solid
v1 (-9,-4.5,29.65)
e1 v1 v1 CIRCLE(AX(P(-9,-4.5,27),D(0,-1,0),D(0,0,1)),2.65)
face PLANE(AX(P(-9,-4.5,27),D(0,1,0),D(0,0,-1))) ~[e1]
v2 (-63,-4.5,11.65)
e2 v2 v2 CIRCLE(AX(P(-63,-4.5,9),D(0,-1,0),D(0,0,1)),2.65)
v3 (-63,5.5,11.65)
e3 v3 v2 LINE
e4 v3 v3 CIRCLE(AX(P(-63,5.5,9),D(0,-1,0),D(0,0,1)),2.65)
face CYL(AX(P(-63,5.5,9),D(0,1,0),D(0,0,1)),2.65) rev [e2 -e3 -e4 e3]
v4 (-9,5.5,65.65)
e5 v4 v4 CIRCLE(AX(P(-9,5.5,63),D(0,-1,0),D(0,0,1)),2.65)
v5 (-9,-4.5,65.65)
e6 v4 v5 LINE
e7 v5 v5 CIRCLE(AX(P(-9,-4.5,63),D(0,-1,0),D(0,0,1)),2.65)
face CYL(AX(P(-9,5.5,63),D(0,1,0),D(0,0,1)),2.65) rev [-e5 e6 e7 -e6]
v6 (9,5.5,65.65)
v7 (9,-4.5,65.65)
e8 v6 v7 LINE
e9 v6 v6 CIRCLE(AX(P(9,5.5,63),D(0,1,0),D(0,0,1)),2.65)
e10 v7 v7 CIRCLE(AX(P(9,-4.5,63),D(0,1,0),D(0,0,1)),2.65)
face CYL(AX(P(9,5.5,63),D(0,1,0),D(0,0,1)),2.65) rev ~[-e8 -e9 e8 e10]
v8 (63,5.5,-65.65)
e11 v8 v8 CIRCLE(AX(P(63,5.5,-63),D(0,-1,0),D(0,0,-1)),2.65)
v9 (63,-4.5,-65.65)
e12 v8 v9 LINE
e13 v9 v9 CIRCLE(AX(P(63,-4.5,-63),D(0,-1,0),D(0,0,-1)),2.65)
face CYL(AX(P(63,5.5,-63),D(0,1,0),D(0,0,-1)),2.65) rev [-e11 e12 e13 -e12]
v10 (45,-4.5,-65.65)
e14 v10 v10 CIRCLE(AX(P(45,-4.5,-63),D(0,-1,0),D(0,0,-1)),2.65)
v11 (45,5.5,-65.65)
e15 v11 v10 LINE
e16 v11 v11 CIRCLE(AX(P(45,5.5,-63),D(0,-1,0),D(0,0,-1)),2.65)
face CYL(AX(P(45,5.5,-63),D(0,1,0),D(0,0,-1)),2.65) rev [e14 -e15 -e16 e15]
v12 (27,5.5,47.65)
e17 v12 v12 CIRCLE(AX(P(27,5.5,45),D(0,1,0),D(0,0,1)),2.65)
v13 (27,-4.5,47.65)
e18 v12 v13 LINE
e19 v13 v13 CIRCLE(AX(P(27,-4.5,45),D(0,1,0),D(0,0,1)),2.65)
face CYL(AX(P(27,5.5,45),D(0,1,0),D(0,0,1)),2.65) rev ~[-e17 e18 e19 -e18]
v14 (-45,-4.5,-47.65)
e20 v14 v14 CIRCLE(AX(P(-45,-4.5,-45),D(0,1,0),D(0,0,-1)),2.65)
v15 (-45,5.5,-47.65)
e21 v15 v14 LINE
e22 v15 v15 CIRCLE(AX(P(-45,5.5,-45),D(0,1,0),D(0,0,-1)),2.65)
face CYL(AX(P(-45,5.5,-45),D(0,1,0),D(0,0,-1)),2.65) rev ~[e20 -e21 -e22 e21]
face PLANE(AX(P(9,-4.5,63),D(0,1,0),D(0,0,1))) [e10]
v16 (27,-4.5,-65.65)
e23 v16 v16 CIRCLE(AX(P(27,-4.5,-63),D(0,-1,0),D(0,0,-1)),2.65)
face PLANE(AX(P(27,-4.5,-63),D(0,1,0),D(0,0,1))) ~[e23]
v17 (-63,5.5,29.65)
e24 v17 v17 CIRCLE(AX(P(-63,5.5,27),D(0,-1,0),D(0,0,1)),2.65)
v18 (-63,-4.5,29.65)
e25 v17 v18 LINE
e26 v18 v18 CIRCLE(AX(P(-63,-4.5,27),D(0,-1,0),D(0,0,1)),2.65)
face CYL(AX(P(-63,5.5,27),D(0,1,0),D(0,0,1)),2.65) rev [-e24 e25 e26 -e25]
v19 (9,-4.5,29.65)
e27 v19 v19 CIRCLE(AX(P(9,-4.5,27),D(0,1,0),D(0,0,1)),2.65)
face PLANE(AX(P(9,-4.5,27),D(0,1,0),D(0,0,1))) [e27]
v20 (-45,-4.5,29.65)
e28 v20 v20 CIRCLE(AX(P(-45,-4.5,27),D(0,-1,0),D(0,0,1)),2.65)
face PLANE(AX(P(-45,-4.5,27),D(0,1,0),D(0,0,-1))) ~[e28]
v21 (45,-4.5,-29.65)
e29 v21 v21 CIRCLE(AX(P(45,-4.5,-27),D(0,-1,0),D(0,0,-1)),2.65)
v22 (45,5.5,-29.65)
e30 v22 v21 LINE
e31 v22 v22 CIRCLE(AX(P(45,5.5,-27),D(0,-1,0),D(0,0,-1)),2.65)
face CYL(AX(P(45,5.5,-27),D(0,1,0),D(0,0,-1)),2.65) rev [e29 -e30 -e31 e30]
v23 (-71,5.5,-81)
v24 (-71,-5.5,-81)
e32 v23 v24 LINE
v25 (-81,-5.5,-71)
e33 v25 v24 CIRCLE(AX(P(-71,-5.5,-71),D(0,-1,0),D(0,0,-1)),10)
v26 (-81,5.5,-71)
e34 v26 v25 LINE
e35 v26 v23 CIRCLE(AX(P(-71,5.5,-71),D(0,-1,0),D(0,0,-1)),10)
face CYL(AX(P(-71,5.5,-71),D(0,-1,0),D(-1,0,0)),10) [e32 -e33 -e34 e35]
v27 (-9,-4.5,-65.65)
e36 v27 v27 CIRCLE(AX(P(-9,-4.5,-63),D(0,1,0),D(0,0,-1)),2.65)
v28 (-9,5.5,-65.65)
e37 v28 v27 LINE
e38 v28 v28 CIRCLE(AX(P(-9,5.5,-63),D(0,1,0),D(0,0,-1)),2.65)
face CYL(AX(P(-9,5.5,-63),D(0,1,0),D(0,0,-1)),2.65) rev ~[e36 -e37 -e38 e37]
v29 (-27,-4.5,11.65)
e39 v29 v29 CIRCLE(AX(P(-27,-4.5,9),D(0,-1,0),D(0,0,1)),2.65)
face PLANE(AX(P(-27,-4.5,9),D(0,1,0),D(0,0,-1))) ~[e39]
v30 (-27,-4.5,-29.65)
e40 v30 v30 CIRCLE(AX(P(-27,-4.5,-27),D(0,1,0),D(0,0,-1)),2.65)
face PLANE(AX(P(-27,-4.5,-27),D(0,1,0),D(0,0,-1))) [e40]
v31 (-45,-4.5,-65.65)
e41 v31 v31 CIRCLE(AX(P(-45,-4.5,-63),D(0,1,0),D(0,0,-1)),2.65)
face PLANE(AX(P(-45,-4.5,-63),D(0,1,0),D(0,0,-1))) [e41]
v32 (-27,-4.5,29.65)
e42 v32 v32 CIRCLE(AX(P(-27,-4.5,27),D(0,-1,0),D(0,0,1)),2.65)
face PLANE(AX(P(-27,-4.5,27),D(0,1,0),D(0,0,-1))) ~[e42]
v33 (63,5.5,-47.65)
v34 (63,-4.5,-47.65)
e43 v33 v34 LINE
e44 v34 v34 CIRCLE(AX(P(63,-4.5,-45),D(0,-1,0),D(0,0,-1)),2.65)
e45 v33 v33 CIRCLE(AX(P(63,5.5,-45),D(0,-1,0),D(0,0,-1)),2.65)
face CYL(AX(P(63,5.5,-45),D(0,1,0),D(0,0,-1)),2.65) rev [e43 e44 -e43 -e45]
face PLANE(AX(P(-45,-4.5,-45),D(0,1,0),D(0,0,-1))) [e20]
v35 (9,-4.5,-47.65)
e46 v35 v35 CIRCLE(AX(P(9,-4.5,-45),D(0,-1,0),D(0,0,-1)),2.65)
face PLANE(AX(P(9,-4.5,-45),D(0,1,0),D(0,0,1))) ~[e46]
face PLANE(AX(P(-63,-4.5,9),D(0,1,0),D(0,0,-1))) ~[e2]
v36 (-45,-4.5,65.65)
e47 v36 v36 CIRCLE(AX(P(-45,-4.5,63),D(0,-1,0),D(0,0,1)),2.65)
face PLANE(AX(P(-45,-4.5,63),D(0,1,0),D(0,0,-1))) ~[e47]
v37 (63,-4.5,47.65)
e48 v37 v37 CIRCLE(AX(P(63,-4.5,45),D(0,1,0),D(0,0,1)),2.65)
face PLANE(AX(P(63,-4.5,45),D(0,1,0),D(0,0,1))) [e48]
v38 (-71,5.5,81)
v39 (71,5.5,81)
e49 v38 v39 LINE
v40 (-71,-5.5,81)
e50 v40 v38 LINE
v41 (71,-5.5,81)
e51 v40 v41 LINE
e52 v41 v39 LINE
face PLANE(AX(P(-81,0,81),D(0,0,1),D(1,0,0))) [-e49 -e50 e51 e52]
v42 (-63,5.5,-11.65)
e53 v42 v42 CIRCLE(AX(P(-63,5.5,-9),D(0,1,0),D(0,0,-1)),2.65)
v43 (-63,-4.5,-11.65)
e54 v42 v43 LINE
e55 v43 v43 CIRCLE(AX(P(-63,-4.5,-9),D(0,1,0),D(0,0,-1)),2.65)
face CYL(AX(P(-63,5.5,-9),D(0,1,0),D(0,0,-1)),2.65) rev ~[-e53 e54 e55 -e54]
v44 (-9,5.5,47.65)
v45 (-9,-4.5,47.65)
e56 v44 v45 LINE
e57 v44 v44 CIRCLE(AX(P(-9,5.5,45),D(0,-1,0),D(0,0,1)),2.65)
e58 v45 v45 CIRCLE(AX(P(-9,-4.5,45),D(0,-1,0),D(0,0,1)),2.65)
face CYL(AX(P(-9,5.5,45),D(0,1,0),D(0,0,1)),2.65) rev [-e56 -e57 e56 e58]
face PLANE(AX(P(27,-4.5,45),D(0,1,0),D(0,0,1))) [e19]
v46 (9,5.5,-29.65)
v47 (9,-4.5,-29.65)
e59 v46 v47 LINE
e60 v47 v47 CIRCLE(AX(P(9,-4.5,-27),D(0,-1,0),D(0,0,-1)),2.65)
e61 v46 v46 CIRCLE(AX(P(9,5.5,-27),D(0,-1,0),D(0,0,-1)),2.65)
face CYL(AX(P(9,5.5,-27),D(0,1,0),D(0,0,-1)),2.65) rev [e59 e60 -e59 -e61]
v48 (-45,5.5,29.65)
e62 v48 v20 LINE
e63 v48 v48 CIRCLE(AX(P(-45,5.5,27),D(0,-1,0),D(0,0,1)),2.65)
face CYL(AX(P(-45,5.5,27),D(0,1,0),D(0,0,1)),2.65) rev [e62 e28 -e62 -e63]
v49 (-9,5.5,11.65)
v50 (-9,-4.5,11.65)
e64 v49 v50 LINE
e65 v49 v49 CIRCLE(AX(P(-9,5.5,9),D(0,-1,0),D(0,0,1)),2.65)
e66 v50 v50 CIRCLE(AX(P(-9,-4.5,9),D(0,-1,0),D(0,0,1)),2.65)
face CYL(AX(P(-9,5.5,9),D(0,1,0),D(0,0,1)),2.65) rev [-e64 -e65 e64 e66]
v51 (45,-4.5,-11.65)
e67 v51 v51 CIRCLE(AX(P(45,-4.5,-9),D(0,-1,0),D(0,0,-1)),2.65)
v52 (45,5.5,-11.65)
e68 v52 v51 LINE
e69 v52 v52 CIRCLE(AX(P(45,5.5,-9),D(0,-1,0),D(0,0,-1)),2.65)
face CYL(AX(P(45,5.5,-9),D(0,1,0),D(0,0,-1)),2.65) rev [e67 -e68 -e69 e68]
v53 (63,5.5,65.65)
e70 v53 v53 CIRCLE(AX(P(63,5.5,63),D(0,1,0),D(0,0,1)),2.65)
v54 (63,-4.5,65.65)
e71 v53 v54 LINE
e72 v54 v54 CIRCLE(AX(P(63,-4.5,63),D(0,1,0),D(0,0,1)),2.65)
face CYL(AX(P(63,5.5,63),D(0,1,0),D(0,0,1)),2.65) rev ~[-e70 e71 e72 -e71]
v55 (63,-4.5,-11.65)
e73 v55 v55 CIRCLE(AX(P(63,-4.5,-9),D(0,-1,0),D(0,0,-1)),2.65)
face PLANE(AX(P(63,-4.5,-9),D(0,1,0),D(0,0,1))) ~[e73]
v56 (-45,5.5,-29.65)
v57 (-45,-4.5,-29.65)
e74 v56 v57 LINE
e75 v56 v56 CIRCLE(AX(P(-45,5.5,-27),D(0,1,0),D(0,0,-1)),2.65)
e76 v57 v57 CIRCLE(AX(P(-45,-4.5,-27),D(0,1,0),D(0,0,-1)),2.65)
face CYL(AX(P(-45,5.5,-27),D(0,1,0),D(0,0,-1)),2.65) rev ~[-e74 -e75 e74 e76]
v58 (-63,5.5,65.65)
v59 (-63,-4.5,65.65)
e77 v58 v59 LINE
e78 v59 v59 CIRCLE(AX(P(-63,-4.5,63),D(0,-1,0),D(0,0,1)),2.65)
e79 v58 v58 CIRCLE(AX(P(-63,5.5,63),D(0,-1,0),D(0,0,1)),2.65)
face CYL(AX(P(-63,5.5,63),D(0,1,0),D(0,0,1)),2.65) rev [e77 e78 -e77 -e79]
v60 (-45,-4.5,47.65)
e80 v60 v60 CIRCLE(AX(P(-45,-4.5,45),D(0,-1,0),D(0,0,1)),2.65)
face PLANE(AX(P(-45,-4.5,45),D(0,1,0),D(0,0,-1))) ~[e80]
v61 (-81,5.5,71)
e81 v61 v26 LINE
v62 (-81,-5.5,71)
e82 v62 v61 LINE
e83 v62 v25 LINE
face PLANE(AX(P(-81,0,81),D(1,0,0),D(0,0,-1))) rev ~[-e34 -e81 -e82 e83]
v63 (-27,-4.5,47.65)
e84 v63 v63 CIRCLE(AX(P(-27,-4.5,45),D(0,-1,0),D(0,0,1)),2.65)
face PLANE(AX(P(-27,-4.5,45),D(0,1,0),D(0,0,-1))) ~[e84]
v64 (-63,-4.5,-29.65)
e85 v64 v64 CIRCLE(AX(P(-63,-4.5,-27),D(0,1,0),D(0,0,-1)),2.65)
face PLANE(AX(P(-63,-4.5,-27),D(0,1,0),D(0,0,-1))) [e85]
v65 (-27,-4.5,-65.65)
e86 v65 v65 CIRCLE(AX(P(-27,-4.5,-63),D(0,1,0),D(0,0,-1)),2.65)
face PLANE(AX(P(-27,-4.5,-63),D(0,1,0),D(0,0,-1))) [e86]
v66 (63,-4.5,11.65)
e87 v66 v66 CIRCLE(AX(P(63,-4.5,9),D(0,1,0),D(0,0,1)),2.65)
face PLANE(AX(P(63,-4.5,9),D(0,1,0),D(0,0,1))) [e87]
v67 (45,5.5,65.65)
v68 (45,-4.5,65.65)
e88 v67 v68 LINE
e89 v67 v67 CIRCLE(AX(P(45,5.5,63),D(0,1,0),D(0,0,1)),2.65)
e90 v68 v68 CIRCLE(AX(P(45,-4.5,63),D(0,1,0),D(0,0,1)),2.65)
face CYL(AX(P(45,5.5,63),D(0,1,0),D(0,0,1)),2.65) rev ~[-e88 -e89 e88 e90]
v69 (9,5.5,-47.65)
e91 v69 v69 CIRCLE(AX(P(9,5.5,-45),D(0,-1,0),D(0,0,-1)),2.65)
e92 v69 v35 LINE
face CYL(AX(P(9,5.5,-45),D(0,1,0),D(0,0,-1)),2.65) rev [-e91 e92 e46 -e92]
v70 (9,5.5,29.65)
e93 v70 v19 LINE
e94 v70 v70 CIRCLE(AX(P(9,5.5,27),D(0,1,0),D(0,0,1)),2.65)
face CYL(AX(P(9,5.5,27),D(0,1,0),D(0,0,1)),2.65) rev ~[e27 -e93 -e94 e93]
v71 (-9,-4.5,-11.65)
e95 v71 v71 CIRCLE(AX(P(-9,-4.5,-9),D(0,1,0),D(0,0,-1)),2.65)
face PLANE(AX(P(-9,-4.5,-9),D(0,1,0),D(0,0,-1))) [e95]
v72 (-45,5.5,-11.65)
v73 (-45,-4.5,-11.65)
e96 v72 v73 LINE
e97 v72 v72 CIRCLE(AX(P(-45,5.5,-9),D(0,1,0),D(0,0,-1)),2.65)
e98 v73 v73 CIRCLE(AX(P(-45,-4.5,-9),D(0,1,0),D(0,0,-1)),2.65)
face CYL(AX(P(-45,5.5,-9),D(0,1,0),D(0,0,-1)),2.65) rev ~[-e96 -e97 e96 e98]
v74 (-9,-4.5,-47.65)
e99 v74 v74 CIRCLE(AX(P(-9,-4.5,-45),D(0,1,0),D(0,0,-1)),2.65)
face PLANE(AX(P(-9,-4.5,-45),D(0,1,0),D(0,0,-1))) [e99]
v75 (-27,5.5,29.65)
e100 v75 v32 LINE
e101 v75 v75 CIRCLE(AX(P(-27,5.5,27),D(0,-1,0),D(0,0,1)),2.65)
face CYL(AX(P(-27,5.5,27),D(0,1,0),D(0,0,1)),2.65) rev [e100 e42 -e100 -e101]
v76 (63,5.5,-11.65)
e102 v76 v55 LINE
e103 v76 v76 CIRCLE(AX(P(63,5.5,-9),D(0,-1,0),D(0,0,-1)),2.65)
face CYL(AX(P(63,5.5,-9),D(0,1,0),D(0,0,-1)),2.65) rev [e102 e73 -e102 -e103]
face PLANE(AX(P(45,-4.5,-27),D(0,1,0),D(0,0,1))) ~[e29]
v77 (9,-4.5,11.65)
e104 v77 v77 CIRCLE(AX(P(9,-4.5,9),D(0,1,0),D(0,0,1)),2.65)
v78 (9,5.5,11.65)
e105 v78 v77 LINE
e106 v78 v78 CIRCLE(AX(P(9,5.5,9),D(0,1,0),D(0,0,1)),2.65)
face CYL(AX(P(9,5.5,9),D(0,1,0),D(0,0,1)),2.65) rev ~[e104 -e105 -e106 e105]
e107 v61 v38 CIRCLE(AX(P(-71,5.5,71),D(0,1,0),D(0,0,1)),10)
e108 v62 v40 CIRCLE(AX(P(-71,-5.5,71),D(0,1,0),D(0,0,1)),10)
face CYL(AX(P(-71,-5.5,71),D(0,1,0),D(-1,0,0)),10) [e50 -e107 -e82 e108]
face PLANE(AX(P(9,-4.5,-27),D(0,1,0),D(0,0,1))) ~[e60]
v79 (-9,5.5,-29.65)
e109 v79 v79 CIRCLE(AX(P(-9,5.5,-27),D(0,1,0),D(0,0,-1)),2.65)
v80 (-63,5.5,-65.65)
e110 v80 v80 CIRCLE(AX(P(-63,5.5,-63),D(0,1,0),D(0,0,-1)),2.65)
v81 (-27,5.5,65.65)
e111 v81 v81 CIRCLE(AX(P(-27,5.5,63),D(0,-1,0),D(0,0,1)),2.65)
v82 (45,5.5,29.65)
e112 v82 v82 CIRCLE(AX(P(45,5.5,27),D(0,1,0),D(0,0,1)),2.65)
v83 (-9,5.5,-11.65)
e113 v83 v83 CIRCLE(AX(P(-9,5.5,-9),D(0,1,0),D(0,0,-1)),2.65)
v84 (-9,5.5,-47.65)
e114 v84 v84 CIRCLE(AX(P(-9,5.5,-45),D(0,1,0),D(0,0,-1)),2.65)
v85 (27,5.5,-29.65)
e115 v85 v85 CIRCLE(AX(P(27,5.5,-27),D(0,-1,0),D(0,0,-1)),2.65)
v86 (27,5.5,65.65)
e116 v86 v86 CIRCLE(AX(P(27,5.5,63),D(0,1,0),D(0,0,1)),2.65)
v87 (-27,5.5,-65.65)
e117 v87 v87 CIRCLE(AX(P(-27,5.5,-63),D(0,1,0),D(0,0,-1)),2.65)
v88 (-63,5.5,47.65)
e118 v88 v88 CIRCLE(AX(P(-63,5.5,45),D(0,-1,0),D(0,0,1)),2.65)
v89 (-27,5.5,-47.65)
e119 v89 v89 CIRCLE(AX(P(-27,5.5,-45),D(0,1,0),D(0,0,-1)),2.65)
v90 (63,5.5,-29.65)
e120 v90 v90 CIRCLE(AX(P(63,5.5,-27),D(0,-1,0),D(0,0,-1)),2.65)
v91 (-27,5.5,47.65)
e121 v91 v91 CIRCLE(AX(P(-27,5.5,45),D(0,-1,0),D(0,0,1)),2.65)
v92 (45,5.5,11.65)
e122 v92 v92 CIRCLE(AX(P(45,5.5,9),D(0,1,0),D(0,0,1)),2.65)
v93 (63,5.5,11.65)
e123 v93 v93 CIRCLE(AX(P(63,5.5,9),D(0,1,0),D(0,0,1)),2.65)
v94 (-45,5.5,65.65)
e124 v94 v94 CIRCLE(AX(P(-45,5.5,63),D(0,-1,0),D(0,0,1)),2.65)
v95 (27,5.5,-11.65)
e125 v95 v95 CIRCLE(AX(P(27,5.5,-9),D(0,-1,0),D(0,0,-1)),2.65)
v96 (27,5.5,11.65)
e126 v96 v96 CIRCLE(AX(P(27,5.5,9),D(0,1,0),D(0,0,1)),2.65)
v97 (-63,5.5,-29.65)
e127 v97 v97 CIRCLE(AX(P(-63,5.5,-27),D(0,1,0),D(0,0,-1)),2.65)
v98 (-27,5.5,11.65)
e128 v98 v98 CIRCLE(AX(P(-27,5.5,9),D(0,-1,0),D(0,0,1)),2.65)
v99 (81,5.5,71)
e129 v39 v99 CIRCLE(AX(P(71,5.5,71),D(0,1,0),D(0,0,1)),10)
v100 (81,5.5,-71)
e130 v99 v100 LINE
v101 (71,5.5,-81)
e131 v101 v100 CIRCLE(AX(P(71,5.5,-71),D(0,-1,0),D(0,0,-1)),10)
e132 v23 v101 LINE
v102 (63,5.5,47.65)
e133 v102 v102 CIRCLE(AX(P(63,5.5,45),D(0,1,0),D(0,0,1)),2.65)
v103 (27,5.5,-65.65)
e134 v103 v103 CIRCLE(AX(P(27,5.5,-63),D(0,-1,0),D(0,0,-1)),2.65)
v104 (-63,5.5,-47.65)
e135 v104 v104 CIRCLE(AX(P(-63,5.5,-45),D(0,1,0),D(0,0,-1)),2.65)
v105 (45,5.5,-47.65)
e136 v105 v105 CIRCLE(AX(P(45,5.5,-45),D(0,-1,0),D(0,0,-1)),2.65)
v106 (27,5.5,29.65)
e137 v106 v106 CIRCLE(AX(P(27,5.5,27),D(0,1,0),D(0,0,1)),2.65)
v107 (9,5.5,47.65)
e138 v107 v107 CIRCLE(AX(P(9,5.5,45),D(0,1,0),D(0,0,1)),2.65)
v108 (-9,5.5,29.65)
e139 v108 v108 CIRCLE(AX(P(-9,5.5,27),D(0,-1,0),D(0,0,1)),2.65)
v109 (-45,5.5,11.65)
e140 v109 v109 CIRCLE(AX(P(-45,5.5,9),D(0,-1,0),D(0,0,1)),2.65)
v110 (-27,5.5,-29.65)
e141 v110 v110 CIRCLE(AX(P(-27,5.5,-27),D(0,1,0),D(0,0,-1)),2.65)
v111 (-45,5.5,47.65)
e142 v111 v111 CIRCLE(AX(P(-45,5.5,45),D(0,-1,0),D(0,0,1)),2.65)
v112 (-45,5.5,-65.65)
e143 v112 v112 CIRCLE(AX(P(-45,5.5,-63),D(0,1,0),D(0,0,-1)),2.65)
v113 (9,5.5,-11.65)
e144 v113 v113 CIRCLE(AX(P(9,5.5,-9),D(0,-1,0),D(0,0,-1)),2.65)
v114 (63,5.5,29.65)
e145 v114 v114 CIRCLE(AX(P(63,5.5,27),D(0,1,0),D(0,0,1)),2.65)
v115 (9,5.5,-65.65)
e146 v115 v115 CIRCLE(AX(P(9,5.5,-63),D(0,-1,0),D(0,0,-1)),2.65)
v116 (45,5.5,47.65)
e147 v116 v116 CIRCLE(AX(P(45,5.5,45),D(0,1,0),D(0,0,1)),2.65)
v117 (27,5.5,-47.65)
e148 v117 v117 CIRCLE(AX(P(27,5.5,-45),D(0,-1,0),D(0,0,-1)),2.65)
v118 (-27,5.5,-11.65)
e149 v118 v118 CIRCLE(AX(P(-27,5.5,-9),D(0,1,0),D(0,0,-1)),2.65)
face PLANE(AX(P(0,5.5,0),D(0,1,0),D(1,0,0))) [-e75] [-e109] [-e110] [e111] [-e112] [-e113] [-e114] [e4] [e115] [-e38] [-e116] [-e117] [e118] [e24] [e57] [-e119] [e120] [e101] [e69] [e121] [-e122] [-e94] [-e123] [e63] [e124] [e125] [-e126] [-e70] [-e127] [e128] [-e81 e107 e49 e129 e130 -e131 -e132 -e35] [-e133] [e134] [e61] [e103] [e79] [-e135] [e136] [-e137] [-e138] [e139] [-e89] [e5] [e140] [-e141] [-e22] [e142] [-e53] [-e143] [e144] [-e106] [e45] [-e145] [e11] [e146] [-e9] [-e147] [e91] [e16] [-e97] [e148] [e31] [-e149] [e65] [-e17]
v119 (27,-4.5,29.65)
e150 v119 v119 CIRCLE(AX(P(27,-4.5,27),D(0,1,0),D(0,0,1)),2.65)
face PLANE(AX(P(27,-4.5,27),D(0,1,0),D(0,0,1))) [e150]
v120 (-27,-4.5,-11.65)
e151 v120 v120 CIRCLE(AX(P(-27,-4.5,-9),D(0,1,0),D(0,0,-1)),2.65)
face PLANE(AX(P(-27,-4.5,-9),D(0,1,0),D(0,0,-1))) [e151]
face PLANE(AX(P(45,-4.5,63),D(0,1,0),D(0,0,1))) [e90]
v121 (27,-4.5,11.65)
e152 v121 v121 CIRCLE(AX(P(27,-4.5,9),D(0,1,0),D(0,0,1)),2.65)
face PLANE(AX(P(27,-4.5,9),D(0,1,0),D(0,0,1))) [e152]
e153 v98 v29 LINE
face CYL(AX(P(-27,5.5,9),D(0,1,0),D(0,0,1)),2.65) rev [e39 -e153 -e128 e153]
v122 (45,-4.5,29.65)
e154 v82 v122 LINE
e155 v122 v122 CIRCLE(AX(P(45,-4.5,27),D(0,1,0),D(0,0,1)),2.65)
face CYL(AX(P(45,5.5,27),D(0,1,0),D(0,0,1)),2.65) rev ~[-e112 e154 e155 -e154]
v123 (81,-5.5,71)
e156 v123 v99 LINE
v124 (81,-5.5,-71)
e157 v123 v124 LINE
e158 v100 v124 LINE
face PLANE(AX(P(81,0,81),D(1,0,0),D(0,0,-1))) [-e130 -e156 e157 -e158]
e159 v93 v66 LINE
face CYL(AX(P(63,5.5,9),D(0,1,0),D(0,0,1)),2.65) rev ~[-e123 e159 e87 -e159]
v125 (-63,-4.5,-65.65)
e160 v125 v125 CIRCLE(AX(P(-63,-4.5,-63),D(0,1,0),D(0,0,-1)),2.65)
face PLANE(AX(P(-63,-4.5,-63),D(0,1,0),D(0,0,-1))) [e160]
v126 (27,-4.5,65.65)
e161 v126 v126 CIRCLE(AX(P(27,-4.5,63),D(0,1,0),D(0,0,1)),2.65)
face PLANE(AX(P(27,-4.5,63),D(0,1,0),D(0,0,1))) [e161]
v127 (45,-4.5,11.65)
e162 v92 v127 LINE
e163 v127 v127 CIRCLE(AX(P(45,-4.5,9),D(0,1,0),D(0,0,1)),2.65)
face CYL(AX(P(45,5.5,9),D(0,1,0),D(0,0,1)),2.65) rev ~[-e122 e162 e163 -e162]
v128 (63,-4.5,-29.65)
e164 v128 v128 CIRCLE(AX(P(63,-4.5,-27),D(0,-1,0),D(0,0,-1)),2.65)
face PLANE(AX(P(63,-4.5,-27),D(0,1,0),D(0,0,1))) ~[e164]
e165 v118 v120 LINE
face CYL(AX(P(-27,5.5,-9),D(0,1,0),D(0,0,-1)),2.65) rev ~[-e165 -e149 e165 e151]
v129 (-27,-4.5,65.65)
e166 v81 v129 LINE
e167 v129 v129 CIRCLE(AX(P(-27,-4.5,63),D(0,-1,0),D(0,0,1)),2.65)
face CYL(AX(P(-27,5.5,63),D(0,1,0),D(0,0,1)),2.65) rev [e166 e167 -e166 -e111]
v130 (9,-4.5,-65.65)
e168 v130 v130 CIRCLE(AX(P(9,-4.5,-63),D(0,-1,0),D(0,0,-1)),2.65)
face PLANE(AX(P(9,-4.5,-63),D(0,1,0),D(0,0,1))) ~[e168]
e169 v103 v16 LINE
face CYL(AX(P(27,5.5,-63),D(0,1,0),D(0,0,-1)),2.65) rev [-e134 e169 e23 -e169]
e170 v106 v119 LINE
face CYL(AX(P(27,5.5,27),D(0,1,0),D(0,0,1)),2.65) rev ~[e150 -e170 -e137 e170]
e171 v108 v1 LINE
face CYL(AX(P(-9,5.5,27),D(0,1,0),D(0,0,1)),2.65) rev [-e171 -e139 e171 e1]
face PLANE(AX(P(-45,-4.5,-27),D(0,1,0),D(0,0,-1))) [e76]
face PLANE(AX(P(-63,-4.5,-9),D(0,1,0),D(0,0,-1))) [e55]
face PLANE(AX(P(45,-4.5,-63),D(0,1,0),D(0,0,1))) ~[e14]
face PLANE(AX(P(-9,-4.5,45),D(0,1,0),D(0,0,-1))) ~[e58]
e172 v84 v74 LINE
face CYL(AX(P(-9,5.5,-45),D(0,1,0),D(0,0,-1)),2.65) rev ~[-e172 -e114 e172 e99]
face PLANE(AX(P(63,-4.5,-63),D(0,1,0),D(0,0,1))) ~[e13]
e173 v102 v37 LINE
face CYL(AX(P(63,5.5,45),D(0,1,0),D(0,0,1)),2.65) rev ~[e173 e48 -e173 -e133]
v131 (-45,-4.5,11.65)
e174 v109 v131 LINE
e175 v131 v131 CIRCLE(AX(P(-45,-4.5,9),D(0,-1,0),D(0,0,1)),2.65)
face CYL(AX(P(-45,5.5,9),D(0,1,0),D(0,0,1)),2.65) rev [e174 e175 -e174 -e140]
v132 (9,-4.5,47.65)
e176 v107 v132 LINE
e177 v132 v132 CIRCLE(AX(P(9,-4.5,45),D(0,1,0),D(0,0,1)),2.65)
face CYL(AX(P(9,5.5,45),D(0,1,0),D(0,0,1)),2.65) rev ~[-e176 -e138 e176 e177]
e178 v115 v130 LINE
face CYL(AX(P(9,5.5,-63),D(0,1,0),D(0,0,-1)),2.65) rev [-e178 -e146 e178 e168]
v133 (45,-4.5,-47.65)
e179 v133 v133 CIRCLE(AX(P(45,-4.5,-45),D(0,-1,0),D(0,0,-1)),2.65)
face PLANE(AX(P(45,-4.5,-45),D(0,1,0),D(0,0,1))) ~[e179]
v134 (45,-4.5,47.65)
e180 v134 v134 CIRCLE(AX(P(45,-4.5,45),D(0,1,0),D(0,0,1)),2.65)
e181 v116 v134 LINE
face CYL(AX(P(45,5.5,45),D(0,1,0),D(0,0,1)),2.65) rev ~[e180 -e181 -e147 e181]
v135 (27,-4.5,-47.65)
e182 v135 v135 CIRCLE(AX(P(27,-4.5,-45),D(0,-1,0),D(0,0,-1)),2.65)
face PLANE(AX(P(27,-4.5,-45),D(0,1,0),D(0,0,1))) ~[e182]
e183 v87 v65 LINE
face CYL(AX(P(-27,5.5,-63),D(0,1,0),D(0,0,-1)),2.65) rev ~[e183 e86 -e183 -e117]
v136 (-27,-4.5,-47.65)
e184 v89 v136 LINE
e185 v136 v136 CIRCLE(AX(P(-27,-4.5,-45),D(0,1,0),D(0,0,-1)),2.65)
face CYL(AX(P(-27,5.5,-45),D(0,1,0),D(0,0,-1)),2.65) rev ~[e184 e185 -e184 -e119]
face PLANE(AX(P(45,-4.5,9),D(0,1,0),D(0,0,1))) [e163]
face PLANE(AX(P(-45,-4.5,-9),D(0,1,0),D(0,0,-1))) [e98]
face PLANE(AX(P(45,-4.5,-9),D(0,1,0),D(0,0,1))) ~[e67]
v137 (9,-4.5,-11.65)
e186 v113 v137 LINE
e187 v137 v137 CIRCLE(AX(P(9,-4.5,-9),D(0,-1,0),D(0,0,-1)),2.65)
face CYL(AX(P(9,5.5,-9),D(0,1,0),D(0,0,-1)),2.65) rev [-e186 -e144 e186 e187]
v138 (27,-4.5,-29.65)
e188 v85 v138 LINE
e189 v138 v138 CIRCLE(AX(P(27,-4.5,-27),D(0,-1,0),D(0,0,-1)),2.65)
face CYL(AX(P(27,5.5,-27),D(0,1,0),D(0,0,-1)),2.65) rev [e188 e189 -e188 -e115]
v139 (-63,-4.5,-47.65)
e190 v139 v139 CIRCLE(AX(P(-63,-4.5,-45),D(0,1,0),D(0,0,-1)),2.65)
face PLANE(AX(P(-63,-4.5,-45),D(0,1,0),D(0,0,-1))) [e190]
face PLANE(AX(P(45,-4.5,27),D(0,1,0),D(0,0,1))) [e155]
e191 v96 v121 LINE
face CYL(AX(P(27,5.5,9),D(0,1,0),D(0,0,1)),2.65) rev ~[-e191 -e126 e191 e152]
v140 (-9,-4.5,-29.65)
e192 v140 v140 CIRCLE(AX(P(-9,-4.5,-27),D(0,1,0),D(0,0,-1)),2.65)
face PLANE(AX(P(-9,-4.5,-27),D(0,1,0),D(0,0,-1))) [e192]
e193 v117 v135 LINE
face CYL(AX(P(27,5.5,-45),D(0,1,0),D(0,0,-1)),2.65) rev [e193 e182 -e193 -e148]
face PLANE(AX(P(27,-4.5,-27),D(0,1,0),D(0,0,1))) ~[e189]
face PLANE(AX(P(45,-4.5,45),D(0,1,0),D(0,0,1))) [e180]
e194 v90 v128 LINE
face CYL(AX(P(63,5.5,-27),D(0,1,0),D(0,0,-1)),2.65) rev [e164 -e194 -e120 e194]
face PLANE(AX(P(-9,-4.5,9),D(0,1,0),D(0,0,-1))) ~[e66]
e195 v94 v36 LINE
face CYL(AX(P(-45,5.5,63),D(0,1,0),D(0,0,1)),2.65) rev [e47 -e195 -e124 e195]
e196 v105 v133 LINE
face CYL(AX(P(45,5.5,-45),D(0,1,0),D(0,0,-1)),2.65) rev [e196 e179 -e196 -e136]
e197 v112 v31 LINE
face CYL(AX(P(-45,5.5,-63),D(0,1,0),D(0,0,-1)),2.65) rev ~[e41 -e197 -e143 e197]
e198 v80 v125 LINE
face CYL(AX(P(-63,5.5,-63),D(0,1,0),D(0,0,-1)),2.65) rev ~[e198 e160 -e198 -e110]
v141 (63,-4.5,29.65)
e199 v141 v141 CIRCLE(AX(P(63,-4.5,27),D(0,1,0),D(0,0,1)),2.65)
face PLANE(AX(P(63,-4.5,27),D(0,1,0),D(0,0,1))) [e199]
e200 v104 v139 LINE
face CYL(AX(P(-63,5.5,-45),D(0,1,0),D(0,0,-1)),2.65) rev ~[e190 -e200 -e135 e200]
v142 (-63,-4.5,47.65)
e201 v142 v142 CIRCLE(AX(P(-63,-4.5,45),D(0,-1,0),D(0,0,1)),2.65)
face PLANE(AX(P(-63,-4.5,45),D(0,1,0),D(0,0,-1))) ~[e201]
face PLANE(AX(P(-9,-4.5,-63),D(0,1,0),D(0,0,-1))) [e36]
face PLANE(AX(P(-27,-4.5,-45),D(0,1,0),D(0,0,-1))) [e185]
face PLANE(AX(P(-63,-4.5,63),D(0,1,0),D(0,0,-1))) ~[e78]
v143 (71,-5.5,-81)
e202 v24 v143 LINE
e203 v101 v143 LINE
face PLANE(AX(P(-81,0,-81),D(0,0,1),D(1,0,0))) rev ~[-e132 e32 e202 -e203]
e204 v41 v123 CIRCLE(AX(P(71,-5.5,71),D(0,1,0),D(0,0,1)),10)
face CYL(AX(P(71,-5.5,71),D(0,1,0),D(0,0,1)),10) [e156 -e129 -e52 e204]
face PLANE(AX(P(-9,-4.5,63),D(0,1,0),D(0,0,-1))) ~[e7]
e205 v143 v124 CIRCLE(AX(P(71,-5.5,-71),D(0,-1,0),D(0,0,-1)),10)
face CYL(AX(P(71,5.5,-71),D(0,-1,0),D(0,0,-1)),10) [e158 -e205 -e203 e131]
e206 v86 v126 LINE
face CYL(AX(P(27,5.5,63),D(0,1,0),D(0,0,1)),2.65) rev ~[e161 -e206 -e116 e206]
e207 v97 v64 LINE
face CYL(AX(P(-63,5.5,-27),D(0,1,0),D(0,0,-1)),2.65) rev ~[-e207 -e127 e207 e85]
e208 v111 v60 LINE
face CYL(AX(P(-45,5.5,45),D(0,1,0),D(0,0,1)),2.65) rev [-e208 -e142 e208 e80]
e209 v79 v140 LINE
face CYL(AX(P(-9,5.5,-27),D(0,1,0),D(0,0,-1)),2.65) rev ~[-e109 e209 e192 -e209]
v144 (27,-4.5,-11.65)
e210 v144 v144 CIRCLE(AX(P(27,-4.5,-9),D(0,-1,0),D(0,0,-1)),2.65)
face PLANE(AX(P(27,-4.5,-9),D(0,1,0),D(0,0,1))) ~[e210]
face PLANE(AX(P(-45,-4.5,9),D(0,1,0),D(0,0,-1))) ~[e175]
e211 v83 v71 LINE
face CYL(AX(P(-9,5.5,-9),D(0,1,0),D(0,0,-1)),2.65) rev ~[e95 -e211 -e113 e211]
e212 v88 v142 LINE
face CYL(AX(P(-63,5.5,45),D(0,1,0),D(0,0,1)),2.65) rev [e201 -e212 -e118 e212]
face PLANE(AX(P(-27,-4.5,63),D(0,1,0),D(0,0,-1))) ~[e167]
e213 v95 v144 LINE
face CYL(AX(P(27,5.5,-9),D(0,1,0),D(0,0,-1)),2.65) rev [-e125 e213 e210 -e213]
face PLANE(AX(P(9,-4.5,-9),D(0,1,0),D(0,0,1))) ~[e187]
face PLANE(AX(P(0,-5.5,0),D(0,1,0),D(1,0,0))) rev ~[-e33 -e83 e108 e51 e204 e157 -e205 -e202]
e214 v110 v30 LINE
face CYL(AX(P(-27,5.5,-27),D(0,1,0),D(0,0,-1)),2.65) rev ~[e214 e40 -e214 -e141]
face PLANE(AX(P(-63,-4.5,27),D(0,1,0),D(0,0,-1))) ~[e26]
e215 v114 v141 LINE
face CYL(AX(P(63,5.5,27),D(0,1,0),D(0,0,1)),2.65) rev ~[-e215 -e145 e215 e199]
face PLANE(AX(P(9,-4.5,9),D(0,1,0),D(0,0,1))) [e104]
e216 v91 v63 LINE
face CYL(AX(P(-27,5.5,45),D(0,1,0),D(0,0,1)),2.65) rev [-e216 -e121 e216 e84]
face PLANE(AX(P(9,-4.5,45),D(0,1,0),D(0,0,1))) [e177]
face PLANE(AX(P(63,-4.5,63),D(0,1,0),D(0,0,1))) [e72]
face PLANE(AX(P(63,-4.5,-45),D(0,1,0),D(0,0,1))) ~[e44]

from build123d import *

# Parameters (mm, degrees)
SKETCH1_W               = 162
SKETCH1_H               = 162
BOSS_EXTRUDE1_DEPTH     = 5.5
SKETCH2_R               = 2.65
CUT_EXTRUDE1_DEPTH      = 10
MIRROR2_COPY_1_SKETCH_R = 2.65
MIRROR2_COPY_1_DEPTH    = 10
FILLET1_R               = 10


with BuildPart() as part:
    # Sketch1 → Boss-Extrude1 (new, symmetric)
    with BuildSketch(Plane(origin=(0, 0, 0), x_dir=(1, 0, 0), z_dir=(0, 1, 0))):
        Rectangle(SKETCH1_W, SKETCH1_H)
    extrude(amount=BOSS_EXTRUDE1_DEPTH, both=True)

    # Sketch2 → Cut-Extrude1 (cut)
    with BuildSketch(Plane(origin=(0, 5.5, 0), x_dir=(1, 0, 0), z_dir=(0, 1, 0))):
        with Locations(Location((9, -9, 0), (0, 0, 270))):
            Circle(SKETCH2_R)
        with Locations(Location((27, -9, 0), (0, 0, 270))):
            Circle(SKETCH2_R)
        with Locations(Location((45, -9, 0), (0, 0, 270))):
            Circle(SKETCH2_R)
        with Locations(Location((63, -9, 0), (0, 0, 270))):
            Circle(SKETCH2_R)
        with Locations(Location((9, -27, 0), (0, 0, 270))):
            Circle(SKETCH2_R)
        with Locations(Location((27, -27, 0), (0, 0, 270))):
            Circle(SKETCH2_R)
        with Locations(Location((45, -27, 0), (0, 0, 270))):
            Circle(SKETCH2_R)
        with Locations(Location((63, -27, 0), (0, 0, 270))):
            Circle(SKETCH2_R)
        with Locations(Location((9, -45, 0), (0, 0, 270))):
            Circle(SKETCH2_R)
        with Locations(Location((27, -45, 0), (0, 0, 270))):
            Circle(SKETCH2_R)
        with Locations(Location((45, -45, 0), (0, 0, 270))):
            Circle(SKETCH2_R)
        with Locations(Location((63, -45, 0), (0, 0, 270))):
            Circle(SKETCH2_R)
        with Locations(Location((9, -63, 0), (0, 0, 270))):
            Circle(SKETCH2_R)
        with Locations(Location((27, -63, 0), (0, 0, 270))):
            Circle(SKETCH2_R)
        with Locations(Location((45, -63, 0), (0, 0, 270))):
            Circle(SKETCH2_R)
        with Locations(Location((63, -63, 0), (0, 0, 270))):
            Circle(SKETCH2_R)
    cut_extrude1 = extrude(amount=-CUT_EXTRUDE1_DEPTH, mode=Mode.SUBTRACT)

    # Mirror1: Cut-Extrude1 across plane
    add(cut_extrude1.mirror(Plane.XY), mode=Mode.SUBTRACT)

    # Mirror2: Cut-Extrude1 across plane
    add(cut_extrude1.mirror(Plane(origin=(0, 0, 0), x_dir=(0, 0, 1), z_dir=(1, 0, 0))), mode=Mode.SUBTRACT)

    # Mirror2 copy 1 sketch → Mirror2 copy 1 (cut)
    with BuildSketch(Plane(origin=(0, 5.5, 0), x_dir=(-1, 0, 0), z_dir=(0, 1, 0))):
        with Locations(Location((9, -9, 0), (0, 0, 270))):
            Circle(MIRROR2_COPY_1_SKETCH_R)
        with Locations(Location((27, -9, 0), (0, 0, 270))):
            Circle(MIRROR2_COPY_1_SKETCH_R)
        with Locations(Location((45, -9, 0), (0, 0, 270))):
            Circle(MIRROR2_COPY_1_SKETCH_R)
        with Locations(Location((63, -9, 0), (0, 0, 270))):
            Circle(MIRROR2_COPY_1_SKETCH_R)
        with Locations(Location((9, -27, 0), (0, 0, 270))):
            Circle(MIRROR2_COPY_1_SKETCH_R)
        with Locations(Location((27, -27, 0), (0, 0, 270))):
            Circle(MIRROR2_COPY_1_SKETCH_R)
        with Locations(Location((45, -27, 0), (0, 0, 270))):
            Circle(MIRROR2_COPY_1_SKETCH_R)
        with Locations(Location((63, -27, 0), (0, 0, 270))):
            Circle(MIRROR2_COPY_1_SKETCH_R)
        with Locations(Location((9, -45, 0), (0, 0, 270))):
            Circle(MIRROR2_COPY_1_SKETCH_R)
        with Locations(Location((27, -45, 0), (0, 0, 270))):
            Circle(MIRROR2_COPY_1_SKETCH_R)
        with Locations(Location((45, -45, 0), (0, 0, 270))):
            Circle(MIRROR2_COPY_1_SKETCH_R)
        with Locations(Location((63, -45, 0), (0, 0, 270))):
            Circle(MIRROR2_COPY_1_SKETCH_R)
        with Locations(Location((9, -63, 0), (0, 0, 270))):
            Circle(MIRROR2_COPY_1_SKETCH_R)
        with Locations(Location((27, -63, 0), (0, 0, 270))):
            Circle(MIRROR2_COPY_1_SKETCH_R)
        with Locations(Location((45, -63, 0), (0, 0, 270))):
            Circle(MIRROR2_COPY_1_SKETCH_R)
        with Locations(Location((63, -63, 0), (0, 0, 270))):
            Circle(MIRROR2_COPY_1_SKETCH_R)
    extrude(amount=-MIRROR2_COPY_1_DEPTH, mode=Mode.SUBTRACT)

    # Fillet1
    fillet1_edges = [part.edges().sort_by_distance(p)[0] for p in [
        (81, 0, 81),
        (-81, 0, 81),
        (-81, 0, -81),
        (81, 0, -81),
    ]]
    fillet(fillet1_edges, radius=FILLET1_R)


solid = part.part
